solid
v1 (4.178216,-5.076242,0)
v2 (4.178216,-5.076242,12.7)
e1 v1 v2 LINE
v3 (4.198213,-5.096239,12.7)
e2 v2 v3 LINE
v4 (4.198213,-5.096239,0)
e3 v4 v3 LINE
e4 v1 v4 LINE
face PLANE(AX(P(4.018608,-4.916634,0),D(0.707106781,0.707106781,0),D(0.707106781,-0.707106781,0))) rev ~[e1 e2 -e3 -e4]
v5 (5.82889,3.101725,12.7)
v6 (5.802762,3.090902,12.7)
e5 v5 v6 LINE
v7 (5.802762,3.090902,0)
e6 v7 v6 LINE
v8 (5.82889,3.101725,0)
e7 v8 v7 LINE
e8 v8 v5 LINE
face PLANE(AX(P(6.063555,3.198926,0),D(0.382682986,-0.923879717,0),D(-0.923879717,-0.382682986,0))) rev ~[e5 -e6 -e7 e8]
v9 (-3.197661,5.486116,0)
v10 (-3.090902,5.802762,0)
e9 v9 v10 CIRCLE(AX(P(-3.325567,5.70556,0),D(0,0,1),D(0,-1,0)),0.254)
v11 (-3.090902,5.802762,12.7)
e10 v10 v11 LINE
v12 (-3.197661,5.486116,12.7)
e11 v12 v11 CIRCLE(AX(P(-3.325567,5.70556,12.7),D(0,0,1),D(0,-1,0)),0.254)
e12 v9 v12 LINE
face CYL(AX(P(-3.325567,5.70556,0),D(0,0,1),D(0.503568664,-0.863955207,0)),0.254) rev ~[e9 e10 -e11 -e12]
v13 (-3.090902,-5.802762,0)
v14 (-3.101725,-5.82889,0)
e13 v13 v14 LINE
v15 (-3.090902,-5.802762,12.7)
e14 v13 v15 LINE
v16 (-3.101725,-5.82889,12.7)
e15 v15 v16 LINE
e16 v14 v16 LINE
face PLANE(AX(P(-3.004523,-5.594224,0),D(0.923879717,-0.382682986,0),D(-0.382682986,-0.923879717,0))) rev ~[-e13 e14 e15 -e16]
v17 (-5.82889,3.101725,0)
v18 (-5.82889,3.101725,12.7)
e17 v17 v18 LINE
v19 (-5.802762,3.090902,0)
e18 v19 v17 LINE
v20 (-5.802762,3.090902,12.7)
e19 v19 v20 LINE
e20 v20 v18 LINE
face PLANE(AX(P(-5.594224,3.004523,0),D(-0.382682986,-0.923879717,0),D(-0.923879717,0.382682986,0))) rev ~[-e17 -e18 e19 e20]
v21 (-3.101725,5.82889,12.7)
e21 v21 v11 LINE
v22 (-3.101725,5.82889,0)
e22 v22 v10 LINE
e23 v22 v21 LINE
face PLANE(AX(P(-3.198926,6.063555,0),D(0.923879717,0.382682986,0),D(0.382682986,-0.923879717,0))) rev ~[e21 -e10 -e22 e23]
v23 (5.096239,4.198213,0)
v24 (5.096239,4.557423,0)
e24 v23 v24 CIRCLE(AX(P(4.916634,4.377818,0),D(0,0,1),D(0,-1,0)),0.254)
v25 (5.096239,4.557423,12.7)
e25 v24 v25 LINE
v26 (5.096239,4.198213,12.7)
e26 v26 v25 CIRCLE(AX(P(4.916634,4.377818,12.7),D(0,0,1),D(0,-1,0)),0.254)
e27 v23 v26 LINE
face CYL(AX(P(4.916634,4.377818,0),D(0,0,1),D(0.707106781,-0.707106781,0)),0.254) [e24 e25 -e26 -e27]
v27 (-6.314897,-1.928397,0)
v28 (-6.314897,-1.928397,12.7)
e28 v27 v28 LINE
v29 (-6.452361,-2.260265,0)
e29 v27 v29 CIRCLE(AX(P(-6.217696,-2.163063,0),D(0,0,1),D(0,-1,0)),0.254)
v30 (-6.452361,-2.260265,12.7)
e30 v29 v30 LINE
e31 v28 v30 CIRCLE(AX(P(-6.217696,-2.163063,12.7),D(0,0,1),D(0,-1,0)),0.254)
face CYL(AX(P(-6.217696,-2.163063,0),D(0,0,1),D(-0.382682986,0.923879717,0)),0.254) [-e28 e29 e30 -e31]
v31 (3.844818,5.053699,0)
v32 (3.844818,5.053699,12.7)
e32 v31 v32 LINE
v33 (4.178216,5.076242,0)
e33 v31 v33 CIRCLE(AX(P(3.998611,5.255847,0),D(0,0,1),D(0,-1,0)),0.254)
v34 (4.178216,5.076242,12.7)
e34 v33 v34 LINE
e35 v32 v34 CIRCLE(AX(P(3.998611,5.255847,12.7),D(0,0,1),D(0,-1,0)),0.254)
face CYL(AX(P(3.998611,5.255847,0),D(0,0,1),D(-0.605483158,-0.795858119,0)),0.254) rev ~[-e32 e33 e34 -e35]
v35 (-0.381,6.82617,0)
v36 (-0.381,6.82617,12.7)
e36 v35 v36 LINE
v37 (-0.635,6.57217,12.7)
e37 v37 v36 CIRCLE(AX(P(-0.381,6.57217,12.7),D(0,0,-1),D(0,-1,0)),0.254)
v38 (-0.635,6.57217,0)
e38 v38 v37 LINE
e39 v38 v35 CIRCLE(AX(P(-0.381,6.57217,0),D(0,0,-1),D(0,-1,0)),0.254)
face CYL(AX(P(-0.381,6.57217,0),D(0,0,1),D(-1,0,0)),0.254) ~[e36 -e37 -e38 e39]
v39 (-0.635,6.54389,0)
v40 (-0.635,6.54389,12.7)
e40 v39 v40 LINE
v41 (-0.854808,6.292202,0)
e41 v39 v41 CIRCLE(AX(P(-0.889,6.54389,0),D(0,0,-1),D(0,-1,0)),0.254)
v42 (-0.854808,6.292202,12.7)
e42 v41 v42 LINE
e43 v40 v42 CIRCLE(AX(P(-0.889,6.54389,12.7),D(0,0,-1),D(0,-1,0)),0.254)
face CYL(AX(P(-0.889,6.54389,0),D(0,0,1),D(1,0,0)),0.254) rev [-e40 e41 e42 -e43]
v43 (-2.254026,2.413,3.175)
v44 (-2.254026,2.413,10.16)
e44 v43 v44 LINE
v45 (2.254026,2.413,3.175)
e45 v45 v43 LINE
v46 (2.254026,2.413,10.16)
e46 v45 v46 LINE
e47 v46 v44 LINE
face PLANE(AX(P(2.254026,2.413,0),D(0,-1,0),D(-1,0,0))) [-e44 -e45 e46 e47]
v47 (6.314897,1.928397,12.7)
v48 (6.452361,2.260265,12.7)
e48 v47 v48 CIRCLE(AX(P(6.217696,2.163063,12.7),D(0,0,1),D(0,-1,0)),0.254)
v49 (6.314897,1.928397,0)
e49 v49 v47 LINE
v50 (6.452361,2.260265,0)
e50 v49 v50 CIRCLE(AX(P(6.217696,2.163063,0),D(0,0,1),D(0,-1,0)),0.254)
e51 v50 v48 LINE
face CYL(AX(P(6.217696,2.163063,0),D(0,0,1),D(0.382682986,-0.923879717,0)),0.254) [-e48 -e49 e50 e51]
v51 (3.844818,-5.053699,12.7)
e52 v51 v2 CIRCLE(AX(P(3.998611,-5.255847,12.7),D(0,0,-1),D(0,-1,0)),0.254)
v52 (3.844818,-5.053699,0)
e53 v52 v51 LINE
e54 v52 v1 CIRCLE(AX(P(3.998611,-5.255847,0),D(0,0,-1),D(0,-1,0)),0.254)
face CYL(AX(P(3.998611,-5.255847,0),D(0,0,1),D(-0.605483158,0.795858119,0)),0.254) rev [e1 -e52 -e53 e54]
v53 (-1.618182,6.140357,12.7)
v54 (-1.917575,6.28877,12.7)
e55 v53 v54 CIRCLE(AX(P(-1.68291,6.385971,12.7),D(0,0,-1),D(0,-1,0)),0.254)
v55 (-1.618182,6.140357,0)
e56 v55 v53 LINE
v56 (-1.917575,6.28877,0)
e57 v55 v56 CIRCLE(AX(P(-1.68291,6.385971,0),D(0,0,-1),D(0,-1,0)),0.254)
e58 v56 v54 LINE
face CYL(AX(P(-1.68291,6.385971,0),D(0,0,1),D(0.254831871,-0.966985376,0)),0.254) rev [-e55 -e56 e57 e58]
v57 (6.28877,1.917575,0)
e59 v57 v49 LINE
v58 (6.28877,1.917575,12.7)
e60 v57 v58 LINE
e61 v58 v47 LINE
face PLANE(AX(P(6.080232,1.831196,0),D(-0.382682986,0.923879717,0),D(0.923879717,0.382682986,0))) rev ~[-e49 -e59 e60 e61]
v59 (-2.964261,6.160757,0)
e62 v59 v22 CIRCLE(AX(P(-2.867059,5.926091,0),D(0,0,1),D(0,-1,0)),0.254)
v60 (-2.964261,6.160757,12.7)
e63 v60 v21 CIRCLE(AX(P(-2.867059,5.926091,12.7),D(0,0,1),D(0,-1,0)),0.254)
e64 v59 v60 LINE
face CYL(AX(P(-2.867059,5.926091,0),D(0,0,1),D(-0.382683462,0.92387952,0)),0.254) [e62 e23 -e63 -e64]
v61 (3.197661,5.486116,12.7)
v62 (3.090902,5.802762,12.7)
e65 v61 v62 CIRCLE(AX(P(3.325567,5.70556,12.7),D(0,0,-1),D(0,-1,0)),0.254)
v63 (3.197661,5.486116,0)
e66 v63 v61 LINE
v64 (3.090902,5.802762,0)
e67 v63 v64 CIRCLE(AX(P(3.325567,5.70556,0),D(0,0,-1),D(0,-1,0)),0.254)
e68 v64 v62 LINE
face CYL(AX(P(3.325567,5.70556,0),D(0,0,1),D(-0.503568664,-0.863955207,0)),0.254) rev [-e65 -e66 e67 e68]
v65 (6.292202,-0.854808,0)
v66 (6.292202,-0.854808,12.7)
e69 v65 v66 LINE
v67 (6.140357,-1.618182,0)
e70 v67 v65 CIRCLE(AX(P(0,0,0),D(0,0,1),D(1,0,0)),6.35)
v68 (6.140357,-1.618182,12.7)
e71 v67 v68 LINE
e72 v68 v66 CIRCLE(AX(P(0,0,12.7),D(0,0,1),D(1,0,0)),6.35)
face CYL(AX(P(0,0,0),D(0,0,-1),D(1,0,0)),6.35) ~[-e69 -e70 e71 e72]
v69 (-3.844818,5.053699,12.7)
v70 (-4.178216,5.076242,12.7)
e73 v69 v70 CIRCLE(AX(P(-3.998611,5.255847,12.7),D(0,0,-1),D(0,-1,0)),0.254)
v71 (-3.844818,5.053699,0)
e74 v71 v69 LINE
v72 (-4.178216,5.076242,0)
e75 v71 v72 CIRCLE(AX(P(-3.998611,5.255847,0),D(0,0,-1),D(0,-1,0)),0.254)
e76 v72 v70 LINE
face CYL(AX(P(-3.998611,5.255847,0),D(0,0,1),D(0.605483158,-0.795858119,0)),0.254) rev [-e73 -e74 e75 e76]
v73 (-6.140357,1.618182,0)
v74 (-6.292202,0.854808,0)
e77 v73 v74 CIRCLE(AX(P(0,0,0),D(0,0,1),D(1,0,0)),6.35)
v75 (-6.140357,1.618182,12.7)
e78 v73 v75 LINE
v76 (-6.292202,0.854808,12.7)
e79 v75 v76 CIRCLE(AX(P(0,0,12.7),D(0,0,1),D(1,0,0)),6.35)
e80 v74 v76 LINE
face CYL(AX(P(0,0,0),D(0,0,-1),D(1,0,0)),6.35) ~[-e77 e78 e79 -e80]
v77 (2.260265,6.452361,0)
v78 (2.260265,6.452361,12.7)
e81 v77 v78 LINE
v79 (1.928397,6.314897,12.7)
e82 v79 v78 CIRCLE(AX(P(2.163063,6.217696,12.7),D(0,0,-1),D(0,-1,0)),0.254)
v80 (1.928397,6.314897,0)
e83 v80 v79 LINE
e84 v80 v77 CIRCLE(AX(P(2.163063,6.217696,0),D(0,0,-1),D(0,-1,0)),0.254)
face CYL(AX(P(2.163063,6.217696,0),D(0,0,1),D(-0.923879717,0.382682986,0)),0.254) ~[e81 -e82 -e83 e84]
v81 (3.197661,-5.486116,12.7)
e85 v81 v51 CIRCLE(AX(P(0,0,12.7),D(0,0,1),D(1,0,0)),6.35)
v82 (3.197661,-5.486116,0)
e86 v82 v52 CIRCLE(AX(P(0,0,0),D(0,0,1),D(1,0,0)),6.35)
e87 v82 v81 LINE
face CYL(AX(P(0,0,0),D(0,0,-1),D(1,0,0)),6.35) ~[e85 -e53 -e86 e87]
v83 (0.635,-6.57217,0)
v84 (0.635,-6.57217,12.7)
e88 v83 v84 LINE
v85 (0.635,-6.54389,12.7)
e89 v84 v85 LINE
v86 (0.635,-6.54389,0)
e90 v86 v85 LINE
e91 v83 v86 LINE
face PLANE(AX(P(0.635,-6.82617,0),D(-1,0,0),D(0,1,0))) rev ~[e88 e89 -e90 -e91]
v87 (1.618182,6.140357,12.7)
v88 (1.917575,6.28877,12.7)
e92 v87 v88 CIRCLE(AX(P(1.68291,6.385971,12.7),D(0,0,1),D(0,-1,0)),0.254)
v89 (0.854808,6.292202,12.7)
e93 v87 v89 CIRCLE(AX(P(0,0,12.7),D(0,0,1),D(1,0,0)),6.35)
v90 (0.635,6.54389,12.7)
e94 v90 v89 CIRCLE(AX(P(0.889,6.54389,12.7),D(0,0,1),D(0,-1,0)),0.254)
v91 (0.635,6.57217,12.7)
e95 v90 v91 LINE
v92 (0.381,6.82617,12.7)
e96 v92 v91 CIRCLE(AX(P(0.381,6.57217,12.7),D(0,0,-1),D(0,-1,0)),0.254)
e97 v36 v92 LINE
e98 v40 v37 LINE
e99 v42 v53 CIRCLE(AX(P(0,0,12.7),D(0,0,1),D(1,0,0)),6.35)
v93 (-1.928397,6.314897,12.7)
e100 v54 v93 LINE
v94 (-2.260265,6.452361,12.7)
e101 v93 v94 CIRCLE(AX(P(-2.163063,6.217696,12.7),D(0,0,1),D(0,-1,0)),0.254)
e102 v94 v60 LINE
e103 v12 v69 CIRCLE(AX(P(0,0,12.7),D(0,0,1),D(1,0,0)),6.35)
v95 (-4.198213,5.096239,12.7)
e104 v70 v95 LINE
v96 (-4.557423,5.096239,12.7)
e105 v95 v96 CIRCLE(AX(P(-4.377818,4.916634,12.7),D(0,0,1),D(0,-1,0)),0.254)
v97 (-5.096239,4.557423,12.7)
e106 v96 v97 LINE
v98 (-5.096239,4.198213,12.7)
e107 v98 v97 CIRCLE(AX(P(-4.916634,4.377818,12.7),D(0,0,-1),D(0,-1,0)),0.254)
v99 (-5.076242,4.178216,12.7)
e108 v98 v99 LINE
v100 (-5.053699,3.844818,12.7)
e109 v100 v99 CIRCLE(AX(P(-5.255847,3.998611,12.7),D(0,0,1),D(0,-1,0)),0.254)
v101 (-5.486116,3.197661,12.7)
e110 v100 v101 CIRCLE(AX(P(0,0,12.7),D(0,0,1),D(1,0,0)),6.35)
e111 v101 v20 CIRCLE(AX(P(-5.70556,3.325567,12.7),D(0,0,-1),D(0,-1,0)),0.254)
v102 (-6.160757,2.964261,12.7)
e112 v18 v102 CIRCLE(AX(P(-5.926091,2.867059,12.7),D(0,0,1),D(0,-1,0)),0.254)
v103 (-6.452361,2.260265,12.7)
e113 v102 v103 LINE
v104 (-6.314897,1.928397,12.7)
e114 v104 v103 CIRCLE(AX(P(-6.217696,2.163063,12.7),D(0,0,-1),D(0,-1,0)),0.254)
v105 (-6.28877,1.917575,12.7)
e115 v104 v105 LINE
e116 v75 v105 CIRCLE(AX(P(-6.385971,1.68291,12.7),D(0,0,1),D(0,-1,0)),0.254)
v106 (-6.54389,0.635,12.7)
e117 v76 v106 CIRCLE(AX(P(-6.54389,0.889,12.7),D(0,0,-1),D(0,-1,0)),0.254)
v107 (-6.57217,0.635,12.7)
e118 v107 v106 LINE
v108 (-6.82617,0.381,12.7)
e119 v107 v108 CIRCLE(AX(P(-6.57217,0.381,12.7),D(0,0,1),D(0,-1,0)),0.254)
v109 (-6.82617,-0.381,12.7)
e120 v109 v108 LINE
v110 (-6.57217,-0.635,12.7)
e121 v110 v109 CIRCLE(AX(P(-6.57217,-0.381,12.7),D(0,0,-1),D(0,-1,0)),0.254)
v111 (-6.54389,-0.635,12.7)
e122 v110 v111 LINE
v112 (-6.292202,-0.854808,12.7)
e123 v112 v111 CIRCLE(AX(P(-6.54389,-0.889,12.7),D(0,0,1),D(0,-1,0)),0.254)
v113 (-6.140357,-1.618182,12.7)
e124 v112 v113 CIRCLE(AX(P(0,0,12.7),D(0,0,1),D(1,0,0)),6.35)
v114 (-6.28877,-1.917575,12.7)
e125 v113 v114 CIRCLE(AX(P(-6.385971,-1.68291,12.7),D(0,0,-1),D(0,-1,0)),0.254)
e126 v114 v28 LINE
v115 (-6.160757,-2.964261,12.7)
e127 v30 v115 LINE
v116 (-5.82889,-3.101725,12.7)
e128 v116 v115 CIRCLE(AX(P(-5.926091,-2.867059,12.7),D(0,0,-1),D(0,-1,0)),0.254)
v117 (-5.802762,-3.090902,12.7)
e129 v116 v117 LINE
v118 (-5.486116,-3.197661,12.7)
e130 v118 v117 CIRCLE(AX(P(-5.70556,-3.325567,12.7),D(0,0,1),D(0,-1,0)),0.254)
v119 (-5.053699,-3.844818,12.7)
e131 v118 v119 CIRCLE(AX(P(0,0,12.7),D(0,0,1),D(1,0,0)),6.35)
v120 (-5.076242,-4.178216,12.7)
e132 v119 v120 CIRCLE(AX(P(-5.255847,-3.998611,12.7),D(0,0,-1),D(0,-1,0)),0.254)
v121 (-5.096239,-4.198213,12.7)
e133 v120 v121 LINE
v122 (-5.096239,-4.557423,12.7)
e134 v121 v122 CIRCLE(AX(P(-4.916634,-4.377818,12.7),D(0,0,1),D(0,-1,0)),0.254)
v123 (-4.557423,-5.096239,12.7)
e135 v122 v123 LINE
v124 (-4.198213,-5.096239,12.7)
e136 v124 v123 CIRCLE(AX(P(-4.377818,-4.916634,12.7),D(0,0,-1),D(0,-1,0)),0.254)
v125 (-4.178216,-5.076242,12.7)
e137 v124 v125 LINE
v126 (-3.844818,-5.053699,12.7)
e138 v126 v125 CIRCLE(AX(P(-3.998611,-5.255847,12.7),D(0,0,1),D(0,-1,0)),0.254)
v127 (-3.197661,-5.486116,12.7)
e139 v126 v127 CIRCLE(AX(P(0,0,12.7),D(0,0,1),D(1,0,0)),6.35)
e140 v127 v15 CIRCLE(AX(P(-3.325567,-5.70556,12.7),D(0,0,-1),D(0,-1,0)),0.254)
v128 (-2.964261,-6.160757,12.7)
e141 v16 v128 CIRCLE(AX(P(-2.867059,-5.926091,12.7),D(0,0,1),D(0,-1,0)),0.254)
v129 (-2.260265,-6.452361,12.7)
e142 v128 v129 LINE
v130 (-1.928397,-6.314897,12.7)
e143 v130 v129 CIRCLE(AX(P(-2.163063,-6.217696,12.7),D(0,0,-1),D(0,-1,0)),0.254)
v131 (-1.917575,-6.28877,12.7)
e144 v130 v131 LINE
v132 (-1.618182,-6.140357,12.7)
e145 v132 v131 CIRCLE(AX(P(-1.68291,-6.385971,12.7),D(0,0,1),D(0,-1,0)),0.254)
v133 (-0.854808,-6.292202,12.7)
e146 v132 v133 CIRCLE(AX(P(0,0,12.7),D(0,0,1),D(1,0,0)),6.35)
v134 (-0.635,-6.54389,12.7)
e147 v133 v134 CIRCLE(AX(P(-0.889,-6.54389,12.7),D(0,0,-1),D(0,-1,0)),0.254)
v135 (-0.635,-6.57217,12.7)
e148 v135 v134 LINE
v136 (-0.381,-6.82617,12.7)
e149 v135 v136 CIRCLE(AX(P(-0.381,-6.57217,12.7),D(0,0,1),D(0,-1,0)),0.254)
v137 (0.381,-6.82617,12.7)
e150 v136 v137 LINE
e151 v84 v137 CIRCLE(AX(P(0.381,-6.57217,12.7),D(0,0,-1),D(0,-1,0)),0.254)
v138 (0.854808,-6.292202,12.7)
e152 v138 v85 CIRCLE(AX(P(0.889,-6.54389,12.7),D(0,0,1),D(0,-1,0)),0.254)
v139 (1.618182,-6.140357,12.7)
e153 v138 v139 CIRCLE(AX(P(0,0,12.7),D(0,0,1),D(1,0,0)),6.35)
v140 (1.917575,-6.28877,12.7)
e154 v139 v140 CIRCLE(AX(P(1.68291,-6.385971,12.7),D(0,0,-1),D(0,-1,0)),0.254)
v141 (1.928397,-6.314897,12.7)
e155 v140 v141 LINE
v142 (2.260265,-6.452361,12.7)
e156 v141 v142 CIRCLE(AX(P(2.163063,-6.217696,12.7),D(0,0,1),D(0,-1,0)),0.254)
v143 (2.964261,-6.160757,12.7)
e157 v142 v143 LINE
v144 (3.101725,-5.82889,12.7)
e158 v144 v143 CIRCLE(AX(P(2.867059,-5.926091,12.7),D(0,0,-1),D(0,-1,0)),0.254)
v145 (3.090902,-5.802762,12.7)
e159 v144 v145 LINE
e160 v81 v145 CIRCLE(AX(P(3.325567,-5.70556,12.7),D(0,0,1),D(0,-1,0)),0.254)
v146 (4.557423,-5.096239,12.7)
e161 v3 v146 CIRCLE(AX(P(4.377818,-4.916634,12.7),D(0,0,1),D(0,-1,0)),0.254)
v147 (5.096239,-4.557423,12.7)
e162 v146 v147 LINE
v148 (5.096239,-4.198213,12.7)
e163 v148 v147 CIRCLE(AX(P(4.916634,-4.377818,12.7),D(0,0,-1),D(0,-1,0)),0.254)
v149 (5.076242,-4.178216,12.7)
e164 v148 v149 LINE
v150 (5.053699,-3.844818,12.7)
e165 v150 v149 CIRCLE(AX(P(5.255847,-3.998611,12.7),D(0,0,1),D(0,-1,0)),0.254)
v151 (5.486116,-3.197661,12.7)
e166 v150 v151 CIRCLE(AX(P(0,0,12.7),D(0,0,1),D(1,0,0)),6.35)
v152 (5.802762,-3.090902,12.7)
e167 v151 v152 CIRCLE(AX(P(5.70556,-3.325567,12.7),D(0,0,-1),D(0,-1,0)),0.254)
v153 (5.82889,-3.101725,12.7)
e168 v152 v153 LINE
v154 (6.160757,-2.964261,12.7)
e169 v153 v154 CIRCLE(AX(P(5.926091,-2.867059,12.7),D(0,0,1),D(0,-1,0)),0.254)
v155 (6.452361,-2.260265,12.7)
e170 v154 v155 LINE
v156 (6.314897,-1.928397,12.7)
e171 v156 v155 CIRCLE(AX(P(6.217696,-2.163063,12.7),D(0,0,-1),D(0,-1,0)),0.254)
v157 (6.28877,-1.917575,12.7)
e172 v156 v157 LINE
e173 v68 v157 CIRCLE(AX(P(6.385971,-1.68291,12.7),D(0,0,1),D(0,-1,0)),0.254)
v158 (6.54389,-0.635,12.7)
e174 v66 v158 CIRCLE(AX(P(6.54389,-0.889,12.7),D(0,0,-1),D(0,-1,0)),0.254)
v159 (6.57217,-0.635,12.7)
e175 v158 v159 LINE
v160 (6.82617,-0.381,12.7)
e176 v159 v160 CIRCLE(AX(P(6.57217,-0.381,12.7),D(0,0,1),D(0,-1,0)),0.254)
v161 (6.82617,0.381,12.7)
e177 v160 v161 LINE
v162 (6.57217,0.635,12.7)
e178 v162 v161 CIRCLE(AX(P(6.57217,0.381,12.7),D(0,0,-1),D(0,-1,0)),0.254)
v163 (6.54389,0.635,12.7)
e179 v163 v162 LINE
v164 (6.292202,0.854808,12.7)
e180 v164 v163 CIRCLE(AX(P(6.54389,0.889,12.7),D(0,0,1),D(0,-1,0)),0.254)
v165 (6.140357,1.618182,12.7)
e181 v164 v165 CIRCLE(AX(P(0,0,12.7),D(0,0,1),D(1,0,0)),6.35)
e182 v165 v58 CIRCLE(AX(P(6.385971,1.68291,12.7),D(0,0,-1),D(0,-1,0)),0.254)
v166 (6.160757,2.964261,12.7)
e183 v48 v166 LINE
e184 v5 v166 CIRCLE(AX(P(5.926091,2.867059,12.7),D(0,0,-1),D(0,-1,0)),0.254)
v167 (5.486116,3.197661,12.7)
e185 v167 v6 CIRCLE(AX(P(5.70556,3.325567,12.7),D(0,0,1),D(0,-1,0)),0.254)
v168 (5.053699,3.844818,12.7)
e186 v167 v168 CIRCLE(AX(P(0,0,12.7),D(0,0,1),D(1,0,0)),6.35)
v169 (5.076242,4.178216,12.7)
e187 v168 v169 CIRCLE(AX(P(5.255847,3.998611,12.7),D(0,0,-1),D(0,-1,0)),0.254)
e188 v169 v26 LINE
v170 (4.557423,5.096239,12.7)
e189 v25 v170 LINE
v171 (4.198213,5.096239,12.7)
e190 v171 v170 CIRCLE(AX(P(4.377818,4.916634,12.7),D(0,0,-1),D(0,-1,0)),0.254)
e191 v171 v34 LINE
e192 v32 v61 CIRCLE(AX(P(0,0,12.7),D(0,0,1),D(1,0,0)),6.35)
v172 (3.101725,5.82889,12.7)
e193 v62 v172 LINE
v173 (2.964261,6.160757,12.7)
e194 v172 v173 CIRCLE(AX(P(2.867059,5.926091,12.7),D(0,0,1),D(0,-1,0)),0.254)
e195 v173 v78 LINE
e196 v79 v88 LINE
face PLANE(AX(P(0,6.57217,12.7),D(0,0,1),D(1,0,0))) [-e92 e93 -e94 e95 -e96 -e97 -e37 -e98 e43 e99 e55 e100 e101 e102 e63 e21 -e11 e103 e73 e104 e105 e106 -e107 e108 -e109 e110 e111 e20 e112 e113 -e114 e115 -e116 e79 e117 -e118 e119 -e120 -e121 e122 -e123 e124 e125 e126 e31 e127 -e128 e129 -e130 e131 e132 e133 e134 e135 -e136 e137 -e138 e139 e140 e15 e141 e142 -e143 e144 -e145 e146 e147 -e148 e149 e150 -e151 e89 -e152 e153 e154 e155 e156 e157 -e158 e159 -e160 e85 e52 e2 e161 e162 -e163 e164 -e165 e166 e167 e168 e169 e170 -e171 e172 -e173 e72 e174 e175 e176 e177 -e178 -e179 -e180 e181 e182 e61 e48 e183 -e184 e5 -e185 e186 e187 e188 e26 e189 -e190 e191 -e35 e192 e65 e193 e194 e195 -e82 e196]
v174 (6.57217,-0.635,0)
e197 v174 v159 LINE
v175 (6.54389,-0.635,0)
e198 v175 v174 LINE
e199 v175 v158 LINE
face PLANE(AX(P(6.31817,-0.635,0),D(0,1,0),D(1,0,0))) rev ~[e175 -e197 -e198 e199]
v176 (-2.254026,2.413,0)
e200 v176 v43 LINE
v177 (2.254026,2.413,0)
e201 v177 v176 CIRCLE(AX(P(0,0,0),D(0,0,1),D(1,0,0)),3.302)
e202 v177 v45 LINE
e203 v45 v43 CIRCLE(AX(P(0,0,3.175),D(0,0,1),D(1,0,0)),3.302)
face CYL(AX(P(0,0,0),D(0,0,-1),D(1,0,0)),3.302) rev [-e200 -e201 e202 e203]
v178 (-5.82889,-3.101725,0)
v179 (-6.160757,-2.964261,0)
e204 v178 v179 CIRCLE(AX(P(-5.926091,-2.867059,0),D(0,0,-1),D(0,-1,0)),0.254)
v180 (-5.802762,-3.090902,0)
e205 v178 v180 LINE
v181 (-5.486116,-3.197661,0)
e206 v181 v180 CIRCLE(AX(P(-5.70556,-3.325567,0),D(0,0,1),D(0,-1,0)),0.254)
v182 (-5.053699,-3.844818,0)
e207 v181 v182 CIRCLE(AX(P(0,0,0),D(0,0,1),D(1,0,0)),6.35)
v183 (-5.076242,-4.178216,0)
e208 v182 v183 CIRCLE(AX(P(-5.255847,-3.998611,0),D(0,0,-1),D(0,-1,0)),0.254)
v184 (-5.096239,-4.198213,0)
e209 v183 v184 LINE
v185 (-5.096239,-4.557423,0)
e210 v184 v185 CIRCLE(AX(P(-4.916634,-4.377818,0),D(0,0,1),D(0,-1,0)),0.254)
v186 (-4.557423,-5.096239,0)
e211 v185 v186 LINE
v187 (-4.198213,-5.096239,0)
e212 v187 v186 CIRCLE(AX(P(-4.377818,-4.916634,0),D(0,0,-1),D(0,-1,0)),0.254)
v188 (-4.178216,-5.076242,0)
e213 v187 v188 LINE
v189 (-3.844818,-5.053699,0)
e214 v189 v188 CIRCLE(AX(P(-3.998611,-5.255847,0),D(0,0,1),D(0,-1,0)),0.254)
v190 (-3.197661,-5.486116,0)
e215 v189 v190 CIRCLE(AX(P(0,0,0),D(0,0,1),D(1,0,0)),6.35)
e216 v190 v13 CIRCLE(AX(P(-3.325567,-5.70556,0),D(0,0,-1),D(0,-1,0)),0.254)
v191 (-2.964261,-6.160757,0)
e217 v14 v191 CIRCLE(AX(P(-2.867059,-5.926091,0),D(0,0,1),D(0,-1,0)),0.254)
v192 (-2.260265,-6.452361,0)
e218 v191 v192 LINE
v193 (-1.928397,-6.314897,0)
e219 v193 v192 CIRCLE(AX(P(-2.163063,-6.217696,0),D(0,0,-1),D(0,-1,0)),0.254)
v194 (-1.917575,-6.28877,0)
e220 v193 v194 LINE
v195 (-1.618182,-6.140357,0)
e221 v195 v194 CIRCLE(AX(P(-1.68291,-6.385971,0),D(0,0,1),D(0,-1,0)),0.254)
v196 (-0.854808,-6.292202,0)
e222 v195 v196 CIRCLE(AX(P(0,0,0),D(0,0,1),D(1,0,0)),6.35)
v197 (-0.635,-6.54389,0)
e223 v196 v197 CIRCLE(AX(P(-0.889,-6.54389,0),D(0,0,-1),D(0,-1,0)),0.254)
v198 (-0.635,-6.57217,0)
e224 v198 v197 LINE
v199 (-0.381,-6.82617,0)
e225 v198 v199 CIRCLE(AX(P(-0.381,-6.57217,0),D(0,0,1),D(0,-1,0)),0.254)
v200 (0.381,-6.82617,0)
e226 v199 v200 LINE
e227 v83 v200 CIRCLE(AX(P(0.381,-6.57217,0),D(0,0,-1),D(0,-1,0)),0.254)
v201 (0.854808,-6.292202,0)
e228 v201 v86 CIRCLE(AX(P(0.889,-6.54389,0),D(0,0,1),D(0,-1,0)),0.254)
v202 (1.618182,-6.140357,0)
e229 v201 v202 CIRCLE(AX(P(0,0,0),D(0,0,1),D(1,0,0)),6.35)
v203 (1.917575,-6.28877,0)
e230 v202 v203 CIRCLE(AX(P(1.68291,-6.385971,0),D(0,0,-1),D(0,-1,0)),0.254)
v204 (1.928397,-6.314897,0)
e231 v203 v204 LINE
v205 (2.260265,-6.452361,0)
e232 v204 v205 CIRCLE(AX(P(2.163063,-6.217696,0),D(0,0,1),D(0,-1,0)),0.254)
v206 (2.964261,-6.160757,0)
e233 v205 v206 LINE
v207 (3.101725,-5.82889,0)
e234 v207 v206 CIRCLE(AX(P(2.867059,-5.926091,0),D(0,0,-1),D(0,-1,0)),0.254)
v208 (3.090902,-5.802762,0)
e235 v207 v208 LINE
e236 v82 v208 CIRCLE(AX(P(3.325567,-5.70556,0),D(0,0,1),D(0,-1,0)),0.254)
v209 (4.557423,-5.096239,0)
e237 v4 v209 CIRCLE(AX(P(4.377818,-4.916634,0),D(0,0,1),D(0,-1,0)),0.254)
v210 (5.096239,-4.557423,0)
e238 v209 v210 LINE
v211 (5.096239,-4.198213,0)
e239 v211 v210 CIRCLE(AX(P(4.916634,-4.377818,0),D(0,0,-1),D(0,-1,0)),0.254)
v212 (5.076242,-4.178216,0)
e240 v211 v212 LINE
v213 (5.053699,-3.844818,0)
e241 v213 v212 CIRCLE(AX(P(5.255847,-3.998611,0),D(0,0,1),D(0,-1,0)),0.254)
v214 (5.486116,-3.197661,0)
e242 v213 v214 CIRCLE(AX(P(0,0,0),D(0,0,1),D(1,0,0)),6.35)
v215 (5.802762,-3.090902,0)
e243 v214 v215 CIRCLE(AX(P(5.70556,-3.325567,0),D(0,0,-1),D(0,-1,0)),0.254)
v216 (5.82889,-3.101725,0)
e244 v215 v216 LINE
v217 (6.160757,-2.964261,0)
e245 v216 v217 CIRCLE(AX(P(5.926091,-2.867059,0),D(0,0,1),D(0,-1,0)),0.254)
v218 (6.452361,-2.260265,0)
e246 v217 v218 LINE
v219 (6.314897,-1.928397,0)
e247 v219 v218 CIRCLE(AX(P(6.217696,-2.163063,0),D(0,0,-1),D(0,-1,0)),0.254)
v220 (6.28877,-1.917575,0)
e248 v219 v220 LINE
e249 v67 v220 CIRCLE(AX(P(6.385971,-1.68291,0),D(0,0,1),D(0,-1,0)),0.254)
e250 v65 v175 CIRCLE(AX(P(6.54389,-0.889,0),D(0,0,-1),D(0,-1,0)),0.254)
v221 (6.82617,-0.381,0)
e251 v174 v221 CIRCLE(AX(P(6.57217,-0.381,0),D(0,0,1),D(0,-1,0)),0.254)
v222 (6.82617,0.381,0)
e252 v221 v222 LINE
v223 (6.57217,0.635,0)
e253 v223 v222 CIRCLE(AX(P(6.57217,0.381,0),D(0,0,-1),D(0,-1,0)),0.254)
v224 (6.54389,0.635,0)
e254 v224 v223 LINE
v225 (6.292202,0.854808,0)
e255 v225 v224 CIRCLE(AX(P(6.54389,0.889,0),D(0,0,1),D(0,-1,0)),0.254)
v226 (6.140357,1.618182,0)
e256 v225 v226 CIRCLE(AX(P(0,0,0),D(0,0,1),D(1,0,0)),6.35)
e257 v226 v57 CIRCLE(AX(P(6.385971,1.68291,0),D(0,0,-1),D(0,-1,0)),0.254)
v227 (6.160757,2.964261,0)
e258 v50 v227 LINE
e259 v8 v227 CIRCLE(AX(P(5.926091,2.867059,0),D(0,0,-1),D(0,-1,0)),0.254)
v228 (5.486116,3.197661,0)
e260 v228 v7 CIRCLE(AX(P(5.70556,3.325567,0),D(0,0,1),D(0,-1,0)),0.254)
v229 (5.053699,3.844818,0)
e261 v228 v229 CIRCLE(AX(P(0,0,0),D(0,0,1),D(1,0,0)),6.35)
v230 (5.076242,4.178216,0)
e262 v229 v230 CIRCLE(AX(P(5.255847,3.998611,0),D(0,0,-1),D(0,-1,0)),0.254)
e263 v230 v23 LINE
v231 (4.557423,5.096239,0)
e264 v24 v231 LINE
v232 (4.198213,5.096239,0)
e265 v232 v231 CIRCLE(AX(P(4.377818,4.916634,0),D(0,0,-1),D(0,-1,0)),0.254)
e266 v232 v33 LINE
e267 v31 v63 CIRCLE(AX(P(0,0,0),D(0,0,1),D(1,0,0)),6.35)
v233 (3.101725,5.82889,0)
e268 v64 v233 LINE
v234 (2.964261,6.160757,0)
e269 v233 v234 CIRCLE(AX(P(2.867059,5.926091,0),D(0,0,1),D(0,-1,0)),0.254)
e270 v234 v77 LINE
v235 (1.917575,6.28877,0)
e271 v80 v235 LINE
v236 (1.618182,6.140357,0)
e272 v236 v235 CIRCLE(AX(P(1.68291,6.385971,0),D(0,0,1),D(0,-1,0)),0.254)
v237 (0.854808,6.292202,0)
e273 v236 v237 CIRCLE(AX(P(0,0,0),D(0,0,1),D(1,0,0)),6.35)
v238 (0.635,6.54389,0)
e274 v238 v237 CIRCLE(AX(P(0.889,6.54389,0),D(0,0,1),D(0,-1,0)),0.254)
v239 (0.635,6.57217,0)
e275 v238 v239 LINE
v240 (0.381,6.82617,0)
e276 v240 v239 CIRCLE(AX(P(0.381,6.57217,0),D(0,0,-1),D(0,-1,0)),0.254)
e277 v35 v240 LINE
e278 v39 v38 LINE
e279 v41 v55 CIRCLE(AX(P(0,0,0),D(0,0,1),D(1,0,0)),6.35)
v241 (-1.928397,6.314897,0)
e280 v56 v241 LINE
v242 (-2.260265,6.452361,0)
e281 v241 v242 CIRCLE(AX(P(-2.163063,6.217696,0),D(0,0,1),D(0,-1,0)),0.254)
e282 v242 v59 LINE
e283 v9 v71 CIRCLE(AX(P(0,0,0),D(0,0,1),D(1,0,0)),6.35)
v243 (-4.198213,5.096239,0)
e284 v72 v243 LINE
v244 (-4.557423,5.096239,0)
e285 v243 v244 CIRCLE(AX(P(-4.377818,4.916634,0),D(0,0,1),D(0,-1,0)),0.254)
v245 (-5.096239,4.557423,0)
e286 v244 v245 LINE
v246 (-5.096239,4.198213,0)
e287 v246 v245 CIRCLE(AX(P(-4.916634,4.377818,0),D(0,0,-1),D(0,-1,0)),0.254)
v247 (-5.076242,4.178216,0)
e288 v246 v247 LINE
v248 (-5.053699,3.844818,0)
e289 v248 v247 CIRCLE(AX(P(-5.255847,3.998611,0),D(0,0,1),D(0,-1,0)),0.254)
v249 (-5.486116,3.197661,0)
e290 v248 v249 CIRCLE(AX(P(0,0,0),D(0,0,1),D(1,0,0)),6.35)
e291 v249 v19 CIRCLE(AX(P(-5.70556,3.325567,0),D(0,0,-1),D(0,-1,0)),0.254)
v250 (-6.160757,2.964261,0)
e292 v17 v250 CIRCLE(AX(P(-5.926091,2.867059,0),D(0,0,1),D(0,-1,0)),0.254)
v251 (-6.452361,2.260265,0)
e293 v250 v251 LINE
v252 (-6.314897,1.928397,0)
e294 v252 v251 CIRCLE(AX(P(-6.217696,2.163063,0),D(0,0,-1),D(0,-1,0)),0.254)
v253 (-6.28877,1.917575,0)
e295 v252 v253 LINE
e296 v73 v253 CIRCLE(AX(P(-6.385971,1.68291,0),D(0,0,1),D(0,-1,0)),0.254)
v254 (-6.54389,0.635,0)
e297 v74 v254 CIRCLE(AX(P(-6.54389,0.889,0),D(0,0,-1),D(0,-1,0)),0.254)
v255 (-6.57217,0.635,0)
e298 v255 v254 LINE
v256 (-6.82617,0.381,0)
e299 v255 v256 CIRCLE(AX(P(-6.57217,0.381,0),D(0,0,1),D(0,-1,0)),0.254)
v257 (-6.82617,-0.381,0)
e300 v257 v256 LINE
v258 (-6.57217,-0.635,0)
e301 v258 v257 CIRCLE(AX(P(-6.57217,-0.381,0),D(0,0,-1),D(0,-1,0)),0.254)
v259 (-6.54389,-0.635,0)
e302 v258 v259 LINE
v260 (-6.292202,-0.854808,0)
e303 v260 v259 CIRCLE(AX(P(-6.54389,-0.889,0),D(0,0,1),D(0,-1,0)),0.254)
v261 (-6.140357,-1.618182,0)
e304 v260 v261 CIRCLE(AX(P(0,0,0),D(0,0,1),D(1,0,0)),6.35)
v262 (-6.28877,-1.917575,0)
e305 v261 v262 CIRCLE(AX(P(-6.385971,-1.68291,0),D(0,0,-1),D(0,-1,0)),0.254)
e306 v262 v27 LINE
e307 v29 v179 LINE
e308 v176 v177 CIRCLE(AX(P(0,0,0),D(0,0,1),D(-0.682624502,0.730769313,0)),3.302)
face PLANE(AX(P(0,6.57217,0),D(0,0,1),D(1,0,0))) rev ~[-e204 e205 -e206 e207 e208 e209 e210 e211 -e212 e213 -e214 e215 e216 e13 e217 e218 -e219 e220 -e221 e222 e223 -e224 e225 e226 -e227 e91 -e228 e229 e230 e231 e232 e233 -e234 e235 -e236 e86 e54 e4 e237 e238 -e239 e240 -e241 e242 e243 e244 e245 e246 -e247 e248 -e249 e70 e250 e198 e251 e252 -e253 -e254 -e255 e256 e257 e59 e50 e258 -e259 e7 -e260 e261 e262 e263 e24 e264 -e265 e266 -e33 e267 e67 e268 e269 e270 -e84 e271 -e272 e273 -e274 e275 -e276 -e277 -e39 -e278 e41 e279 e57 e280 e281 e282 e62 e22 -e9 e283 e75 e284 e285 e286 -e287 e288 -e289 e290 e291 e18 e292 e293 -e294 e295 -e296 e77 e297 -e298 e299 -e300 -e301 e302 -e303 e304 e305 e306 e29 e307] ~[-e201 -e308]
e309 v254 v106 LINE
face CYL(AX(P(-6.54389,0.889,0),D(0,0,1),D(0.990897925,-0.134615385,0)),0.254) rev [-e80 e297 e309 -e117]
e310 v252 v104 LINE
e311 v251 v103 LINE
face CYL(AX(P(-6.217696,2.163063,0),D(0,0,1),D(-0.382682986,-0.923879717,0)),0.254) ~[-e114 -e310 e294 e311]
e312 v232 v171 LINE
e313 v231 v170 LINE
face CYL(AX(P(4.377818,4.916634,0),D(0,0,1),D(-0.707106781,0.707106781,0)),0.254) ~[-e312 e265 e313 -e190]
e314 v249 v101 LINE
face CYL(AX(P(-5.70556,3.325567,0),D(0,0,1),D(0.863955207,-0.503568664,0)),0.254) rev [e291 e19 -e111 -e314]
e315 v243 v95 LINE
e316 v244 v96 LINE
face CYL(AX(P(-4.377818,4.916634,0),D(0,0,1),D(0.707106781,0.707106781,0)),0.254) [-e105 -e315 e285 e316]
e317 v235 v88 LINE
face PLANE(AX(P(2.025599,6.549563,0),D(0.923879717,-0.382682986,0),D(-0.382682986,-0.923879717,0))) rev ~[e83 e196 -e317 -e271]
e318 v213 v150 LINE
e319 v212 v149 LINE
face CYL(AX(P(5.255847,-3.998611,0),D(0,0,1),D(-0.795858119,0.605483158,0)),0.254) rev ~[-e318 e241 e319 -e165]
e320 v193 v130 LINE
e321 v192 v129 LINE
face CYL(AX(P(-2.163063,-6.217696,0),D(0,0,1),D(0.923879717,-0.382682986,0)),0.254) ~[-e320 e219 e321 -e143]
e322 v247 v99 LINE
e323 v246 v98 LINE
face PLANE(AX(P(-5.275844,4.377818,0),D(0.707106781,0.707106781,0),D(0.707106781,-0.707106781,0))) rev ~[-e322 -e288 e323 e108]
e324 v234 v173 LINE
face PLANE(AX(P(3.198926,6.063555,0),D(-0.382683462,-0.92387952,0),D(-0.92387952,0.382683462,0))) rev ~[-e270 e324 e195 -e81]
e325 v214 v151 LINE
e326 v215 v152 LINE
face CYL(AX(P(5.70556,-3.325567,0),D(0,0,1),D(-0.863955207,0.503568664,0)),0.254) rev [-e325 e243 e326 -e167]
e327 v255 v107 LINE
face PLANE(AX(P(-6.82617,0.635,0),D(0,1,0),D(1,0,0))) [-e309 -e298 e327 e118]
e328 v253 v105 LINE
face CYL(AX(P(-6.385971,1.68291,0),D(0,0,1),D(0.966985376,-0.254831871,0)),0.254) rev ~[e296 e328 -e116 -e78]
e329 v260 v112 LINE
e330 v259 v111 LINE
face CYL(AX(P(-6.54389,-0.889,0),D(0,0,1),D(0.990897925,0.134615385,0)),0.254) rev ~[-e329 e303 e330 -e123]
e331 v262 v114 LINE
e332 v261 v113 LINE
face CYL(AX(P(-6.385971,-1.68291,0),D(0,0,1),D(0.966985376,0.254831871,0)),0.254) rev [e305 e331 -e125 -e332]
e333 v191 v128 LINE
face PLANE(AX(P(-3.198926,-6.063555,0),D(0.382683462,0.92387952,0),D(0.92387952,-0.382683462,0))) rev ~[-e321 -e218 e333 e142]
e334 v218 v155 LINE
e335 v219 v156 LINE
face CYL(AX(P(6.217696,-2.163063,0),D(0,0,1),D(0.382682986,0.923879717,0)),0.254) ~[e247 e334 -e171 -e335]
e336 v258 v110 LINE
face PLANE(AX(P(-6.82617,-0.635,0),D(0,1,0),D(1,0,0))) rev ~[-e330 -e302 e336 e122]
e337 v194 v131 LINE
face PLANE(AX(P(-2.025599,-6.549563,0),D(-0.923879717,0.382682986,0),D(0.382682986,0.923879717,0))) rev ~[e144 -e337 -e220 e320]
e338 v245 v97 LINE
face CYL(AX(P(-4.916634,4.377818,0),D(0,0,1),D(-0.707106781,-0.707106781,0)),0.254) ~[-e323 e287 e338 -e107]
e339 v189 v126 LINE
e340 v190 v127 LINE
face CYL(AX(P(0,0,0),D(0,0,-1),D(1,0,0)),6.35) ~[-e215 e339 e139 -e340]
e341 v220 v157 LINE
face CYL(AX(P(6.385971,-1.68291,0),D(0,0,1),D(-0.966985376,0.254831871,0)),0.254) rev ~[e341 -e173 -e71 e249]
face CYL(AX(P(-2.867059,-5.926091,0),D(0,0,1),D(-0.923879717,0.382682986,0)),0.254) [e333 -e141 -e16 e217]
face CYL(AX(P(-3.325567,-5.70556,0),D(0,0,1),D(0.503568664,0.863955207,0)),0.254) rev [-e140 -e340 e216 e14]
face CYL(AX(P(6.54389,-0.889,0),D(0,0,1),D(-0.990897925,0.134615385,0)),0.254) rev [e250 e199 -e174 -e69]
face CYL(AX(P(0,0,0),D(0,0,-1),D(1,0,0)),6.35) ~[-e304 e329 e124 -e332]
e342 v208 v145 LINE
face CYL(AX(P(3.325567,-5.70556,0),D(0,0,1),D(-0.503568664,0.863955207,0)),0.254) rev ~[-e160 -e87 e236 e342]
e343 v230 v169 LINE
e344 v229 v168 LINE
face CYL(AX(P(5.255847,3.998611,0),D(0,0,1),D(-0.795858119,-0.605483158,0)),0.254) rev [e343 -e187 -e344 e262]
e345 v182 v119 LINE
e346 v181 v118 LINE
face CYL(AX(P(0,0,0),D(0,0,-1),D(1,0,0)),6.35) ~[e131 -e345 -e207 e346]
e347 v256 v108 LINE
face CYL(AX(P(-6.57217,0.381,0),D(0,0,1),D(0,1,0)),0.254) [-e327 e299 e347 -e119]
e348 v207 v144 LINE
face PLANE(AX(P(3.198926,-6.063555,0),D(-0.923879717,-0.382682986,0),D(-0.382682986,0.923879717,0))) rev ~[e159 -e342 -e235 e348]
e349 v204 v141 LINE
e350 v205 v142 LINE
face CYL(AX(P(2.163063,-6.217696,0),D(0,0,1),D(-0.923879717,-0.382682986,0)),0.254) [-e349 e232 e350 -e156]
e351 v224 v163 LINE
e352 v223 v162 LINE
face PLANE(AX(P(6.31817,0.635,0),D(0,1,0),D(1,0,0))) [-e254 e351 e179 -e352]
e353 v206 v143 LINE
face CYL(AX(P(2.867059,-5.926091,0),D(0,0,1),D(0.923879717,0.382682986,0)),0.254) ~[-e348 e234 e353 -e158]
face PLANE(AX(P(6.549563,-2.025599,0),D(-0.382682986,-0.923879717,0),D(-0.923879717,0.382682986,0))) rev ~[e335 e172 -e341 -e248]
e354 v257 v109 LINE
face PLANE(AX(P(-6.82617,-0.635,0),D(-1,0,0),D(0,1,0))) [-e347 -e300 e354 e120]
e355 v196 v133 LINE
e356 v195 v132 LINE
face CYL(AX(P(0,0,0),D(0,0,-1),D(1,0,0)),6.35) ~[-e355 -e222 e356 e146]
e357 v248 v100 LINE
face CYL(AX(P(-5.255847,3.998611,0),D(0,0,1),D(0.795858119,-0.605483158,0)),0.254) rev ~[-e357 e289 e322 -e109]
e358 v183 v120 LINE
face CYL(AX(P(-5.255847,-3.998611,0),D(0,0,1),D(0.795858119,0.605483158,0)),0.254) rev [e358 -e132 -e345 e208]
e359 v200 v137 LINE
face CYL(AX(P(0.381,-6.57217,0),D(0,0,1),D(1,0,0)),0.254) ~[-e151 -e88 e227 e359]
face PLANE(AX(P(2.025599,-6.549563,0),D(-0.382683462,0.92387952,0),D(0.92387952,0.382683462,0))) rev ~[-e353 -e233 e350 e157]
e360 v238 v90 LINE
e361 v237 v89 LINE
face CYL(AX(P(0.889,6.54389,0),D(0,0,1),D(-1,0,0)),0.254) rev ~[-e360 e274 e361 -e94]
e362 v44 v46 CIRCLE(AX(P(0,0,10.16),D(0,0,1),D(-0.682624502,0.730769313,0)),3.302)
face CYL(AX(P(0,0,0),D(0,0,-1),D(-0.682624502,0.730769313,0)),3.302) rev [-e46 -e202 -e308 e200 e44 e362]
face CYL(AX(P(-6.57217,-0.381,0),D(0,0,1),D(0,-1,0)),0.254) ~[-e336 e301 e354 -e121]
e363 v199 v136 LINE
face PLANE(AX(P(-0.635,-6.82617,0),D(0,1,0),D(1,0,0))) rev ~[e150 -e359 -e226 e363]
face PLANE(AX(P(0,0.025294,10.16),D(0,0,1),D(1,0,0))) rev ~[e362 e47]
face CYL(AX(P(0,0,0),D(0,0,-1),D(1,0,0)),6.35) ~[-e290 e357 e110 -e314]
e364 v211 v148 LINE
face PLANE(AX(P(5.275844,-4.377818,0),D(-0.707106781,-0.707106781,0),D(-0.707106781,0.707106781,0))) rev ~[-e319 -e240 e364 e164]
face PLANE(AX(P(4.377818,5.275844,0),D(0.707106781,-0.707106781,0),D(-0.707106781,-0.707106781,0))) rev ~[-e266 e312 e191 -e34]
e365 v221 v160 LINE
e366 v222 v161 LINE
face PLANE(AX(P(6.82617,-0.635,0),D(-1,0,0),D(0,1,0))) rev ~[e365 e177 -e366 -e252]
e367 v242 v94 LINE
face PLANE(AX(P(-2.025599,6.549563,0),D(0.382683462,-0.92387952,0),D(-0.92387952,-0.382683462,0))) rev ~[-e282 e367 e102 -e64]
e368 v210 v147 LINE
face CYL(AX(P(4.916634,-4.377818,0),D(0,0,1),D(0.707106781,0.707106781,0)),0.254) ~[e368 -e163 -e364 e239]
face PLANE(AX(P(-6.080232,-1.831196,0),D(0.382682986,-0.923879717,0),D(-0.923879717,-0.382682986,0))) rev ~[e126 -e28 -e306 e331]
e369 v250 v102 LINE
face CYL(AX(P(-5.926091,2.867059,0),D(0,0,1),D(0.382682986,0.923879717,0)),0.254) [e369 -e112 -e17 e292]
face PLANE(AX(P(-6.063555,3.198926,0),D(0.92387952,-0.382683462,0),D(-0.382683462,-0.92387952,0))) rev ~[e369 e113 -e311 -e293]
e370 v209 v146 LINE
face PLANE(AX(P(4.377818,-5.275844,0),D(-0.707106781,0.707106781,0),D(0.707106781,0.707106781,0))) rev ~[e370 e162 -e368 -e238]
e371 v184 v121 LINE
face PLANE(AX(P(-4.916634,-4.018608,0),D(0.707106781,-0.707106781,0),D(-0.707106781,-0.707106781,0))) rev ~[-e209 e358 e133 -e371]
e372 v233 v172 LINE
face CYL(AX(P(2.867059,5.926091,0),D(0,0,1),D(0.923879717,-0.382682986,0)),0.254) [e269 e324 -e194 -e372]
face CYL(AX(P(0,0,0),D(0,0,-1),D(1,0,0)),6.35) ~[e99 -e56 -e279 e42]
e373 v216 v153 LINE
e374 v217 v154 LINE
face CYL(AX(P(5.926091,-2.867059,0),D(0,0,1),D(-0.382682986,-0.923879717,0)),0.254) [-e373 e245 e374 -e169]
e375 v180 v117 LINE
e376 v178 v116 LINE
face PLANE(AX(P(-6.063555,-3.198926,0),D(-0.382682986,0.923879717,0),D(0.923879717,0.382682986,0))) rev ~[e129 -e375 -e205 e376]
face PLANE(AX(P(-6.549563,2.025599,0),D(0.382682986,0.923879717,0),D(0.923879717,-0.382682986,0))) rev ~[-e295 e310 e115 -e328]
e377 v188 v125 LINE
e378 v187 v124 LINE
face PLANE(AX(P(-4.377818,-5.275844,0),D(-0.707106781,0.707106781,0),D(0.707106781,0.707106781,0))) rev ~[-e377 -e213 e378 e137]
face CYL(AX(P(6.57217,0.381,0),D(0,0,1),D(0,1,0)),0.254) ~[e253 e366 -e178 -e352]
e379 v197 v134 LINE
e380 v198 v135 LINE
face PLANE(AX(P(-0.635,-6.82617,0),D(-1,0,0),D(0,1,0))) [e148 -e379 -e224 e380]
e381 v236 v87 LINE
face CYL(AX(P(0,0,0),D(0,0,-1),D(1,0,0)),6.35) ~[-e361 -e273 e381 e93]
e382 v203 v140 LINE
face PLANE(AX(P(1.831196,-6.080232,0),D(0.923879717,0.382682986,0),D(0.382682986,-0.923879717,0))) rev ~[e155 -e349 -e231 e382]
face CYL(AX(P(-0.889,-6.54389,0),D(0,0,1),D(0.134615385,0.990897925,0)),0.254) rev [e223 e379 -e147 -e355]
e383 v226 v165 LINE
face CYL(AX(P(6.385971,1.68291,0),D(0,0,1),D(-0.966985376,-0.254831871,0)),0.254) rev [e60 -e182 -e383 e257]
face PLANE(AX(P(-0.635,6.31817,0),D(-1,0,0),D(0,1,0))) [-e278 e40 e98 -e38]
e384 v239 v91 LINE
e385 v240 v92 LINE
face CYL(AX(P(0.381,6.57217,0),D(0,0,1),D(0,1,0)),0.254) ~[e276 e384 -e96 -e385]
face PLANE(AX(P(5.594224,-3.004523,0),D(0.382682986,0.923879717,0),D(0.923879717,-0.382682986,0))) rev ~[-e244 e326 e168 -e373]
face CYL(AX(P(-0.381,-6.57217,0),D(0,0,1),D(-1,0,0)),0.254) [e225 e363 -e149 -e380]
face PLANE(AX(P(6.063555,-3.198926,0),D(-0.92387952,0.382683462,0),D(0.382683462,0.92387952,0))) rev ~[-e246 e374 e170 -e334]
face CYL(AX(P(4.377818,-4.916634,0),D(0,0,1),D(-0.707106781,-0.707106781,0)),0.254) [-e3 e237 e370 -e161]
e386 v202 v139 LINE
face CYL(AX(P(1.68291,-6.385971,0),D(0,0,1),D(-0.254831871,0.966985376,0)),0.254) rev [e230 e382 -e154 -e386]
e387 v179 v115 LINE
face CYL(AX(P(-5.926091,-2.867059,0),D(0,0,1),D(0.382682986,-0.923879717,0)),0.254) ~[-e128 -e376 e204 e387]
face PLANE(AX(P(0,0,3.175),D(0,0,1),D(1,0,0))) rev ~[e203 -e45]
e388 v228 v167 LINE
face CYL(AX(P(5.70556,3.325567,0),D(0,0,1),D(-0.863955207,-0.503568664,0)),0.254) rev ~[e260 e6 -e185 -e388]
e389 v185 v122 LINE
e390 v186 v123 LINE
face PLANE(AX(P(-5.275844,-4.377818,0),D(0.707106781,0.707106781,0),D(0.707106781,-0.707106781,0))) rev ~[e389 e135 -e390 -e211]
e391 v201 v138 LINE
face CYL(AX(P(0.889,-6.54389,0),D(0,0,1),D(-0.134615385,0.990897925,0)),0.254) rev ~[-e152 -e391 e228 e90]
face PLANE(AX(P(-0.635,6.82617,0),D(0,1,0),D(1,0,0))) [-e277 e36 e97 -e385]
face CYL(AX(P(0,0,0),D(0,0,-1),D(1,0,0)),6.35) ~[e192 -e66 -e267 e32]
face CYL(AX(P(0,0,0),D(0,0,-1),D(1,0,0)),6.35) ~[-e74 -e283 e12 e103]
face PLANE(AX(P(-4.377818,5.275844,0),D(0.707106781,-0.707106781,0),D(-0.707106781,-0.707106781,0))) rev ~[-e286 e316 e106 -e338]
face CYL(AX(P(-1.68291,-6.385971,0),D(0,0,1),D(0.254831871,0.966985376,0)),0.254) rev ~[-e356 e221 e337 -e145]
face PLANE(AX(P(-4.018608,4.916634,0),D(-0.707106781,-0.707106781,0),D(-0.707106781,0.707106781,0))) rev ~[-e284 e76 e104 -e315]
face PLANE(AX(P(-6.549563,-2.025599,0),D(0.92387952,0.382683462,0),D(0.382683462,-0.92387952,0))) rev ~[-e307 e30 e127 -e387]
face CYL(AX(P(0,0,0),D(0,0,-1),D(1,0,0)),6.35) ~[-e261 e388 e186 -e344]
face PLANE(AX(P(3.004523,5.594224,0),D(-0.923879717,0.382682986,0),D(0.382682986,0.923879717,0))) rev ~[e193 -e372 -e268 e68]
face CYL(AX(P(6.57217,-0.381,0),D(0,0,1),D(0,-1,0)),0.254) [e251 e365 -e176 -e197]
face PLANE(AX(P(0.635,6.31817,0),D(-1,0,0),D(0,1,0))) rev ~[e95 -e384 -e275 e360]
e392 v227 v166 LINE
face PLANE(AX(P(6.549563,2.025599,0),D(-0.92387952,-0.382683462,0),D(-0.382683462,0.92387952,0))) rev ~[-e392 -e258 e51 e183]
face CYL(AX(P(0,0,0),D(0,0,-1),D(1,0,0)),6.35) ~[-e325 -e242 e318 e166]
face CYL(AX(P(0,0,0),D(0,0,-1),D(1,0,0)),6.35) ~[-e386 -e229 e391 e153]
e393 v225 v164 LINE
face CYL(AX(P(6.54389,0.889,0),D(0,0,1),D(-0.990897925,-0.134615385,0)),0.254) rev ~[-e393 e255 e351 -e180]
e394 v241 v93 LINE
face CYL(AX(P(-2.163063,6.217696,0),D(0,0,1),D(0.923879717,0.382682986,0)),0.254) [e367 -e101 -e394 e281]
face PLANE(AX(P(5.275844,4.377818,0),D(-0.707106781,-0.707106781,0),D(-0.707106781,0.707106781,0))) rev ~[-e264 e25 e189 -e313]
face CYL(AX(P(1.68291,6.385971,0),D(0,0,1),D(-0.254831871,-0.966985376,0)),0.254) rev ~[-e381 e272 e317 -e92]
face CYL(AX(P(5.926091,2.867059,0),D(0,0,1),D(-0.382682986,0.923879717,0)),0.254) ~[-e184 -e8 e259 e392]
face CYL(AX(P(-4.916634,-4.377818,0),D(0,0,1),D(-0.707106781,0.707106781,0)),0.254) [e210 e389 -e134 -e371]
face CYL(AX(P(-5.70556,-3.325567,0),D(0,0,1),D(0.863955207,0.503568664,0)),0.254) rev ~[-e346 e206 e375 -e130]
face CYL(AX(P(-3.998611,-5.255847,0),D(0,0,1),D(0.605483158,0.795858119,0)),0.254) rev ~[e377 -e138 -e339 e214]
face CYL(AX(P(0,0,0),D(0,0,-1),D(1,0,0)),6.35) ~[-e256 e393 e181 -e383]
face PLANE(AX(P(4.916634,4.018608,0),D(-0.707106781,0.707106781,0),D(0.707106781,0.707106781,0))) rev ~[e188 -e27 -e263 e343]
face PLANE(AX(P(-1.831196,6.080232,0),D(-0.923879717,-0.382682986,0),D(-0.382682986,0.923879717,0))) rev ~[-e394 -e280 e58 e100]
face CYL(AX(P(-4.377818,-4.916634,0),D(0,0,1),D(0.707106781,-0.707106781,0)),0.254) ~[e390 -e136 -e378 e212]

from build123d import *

# Parameters (mm, degrees)
F0_R     = 6.35
F1_DEPTH = 12.7
F2_W     = 1.27
F2_H     = 0.508
F2_W_2   = 0.508
F2_H_2   = 1.27
F3_DEPTH = 12.7
F4_R     = 0.254
F6_DEPTH = 10.16
F7_R     = 3.302
F8_DEPTH = 3.175


with BuildPart() as f1:
    # F0 (on Top) → F1 (new body)
    with BuildSketch(Plane.XY):
        Circle(F0_R)
    extrude(amount=F1_DEPTH)

    # F2 (on Top) → F3 (join, through all)
    with BuildSketch(Plane.XY):
        with Locations((0, 6.57217)):
            Rectangle(F2_W, F2_H)
        Polygon((-2.025599, 6.549563), (-3.198926, 6.063555), (-3.004523, 5.594224), (-1.831196, 6.080232), align=None)
        Polygon((-4.377818, 5.275844), (-5.275844, 4.377818), (-4.916634, 4.018608), (-4.018608, 4.916634), align=None)
        Polygon((-6.063555, 3.198926), (-6.549563, 2.025599), (-6.080232, 1.831196), (-5.594224, 3.004523), align=None)
        with Locations((-6.57217, 0)):
            Rectangle(F2_W_2, F2_H_2)
        Polygon((-6.549563, -2.025599), (-6.063555, -3.198926), (-5.594224, -3.004523), (-6.080232, -1.831196), align=None)
        Polygon((-5.275844, -4.377818), (-4.377818, -5.275844), (-4.018608, -4.916634), (-4.916634, -4.018608), align=None)
        Polygon((-3.198926, -6.063555), (-2.025599, -6.549563), (-1.831196, -6.080232), (-3.004523, -5.594224), align=None)
        with Locations((0, -6.57217)):
            Rectangle(F2_W, F2_H)
        Polygon((2.025599, -6.549563), (3.198926, -6.063555), (3.004523, -5.594224), (1.831196, -6.080232), align=None)
        Polygon((4.377818, -5.275844), (5.275844, -4.377818), (4.916634, -4.018608), (4.018608, -4.916634), align=None)
        Polygon((6.063555, -3.198926), (6.549563, -2.025599), (6.080232, -1.831196), (5.594224, -3.004523), align=None)
        with Locations((6.57217, 0)):
            Rectangle(F2_W_2, F2_H_2)
        Polygon((6.549563, 2.025599), (6.063555, 3.198926), (5.594224, 3.004523), (6.080232, 1.831196), align=None)
        Polygon((5.275844, 4.377818), (4.377818, 5.275844), (4.018608, 4.916634), (4.916634, 4.018608), align=None)
        Polygon((3.198926, 6.063555), (2.025599, 6.549563), (1.831196, 6.080232), (3.004523, 5.594224), align=None)
    extrude(amount=F3_DEPTH)

    # F4
    f4_edges = [f1.edges().sort_by_distance(p)[0] for p in [
        (0.635, 6.82617, 6.35),
        (-0.635, 6.82617, 6.35),
        (0.635, 6.31817, 6.35),
        (-0.635, 6.31817, 6.35),
        (1.831196, 6.080232, 6.35),
        (2.025599, 6.549563, 6.35),
        (3.198926, 6.063555, 6.35),
        (3.004523, 5.594224, 6.35),
        (4.377818, 5.275844, 6.35),
        (5.275844, 4.377818, 6.35),
        (4.018608, 4.916634, 6.35),
        (4.916634, 4.018608, 6.35),
        (5.594224, 3.004523, 6.35),
        (6.063555, 3.198926, 6.35),
        (6.549563, 2.025599, 6.35),
        (6.080232, 1.831196, 6.35),
        (6.82617, 0.635, 6.35),
        (6.31817, 0.635, 6.35),
        (6.82617, -0.635, 6.35),
        (6.31817, -0.635, 6.35),
        (6.549563, -2.025599, 6.35),
        (6.080232, -1.831196, 6.35),
        (6.063555, -3.198926, 6.35),
        (5.275844, -4.377818, 6.35),
        (5.594224, -3.004523, 6.35),
        (4.916634, -4.018608, 6.35),
        (4.377818, -5.275844, 6.35),
        (4.018608, -4.916634, 6.35),
        (3.004523, -5.594224, 6.35),
        (3.198926, -6.063555, 6.35),
        (0.635, -6.31817, 6.35),
        (0.635, -6.82617, 6.35),
        (1.831196, -6.080232, 6.35),
        (2.025599, -6.549563, 6.35),
        (-0.635, -6.82617, 6.35),
        (-0.635, -6.31817, 6.35),
        (-1.831196, -6.080232, 6.35),
        (-2.025599, -6.549563, 6.35),
        (-3.198926, -6.063555, 6.35),
        (-3.004523, -5.594224, 6.35),
        (-4.018608, -4.916634, 6.35),
        (-4.377818, -5.275844, 6.35),
        (-5.594224, -3.004523, 6.35),
        (-6.063555, -3.198926, 6.35),
        (-5.275844, -4.377818, 6.35),
        (-4.916634, -4.018608, 6.35),
        (-6.080232, -1.831196, 6.35),
        (-6.549563, -2.025599, 6.35),
        (-6.31817, -0.635, 6.35),
        (-6.82617, -0.635, 6.35),
        (-6.82617, 0.635, 6.35),
        (-6.31817, 0.635, 6.35),
        (-6.080232, 1.831196, 6.35),
        (-6.549563, 2.025599, 6.35),
        (-6.063555, 3.198926, 6.35),
        (-5.594224, 3.004523, 6.35),
        (-4.377818, 5.275844, 6.35),
        (-4.018608, 4.916634, 6.35),
        (-4.916634, 4.018608, 6.35),
        (-5.275844, 4.377818, 6.35),
        (-1.831196, 6.080232, 6.35),
        (-2.025599, 6.549563, 6.35),
        (-3.004523, 5.594224, 6.35),
        (-3.198926, 6.063555, 6.35),
    ]]
    fillet(f4_edges, radius=F4_R)

    # F5 (on Top) → F6 (cut)
    with BuildSketch(Plane.XY):
        with BuildLine():
            Line((2.254026, 2.413), (-2.254026, 2.413))
            ThreePointArc((-2.254026, 2.413), (0, -3.302), (2.254026, 2.413))
        make_face()
    extrude(amount=F6_DEPTH, mode=Mode.SUBTRACT)

    # F7 (on Top) → F8 (cut)
    with BuildSketch(Plane.XY):
        Circle(F7_R)
    extrude(amount=F8_DEPTH, mode=Mode.SUBTRACT)


solid = f1.part
